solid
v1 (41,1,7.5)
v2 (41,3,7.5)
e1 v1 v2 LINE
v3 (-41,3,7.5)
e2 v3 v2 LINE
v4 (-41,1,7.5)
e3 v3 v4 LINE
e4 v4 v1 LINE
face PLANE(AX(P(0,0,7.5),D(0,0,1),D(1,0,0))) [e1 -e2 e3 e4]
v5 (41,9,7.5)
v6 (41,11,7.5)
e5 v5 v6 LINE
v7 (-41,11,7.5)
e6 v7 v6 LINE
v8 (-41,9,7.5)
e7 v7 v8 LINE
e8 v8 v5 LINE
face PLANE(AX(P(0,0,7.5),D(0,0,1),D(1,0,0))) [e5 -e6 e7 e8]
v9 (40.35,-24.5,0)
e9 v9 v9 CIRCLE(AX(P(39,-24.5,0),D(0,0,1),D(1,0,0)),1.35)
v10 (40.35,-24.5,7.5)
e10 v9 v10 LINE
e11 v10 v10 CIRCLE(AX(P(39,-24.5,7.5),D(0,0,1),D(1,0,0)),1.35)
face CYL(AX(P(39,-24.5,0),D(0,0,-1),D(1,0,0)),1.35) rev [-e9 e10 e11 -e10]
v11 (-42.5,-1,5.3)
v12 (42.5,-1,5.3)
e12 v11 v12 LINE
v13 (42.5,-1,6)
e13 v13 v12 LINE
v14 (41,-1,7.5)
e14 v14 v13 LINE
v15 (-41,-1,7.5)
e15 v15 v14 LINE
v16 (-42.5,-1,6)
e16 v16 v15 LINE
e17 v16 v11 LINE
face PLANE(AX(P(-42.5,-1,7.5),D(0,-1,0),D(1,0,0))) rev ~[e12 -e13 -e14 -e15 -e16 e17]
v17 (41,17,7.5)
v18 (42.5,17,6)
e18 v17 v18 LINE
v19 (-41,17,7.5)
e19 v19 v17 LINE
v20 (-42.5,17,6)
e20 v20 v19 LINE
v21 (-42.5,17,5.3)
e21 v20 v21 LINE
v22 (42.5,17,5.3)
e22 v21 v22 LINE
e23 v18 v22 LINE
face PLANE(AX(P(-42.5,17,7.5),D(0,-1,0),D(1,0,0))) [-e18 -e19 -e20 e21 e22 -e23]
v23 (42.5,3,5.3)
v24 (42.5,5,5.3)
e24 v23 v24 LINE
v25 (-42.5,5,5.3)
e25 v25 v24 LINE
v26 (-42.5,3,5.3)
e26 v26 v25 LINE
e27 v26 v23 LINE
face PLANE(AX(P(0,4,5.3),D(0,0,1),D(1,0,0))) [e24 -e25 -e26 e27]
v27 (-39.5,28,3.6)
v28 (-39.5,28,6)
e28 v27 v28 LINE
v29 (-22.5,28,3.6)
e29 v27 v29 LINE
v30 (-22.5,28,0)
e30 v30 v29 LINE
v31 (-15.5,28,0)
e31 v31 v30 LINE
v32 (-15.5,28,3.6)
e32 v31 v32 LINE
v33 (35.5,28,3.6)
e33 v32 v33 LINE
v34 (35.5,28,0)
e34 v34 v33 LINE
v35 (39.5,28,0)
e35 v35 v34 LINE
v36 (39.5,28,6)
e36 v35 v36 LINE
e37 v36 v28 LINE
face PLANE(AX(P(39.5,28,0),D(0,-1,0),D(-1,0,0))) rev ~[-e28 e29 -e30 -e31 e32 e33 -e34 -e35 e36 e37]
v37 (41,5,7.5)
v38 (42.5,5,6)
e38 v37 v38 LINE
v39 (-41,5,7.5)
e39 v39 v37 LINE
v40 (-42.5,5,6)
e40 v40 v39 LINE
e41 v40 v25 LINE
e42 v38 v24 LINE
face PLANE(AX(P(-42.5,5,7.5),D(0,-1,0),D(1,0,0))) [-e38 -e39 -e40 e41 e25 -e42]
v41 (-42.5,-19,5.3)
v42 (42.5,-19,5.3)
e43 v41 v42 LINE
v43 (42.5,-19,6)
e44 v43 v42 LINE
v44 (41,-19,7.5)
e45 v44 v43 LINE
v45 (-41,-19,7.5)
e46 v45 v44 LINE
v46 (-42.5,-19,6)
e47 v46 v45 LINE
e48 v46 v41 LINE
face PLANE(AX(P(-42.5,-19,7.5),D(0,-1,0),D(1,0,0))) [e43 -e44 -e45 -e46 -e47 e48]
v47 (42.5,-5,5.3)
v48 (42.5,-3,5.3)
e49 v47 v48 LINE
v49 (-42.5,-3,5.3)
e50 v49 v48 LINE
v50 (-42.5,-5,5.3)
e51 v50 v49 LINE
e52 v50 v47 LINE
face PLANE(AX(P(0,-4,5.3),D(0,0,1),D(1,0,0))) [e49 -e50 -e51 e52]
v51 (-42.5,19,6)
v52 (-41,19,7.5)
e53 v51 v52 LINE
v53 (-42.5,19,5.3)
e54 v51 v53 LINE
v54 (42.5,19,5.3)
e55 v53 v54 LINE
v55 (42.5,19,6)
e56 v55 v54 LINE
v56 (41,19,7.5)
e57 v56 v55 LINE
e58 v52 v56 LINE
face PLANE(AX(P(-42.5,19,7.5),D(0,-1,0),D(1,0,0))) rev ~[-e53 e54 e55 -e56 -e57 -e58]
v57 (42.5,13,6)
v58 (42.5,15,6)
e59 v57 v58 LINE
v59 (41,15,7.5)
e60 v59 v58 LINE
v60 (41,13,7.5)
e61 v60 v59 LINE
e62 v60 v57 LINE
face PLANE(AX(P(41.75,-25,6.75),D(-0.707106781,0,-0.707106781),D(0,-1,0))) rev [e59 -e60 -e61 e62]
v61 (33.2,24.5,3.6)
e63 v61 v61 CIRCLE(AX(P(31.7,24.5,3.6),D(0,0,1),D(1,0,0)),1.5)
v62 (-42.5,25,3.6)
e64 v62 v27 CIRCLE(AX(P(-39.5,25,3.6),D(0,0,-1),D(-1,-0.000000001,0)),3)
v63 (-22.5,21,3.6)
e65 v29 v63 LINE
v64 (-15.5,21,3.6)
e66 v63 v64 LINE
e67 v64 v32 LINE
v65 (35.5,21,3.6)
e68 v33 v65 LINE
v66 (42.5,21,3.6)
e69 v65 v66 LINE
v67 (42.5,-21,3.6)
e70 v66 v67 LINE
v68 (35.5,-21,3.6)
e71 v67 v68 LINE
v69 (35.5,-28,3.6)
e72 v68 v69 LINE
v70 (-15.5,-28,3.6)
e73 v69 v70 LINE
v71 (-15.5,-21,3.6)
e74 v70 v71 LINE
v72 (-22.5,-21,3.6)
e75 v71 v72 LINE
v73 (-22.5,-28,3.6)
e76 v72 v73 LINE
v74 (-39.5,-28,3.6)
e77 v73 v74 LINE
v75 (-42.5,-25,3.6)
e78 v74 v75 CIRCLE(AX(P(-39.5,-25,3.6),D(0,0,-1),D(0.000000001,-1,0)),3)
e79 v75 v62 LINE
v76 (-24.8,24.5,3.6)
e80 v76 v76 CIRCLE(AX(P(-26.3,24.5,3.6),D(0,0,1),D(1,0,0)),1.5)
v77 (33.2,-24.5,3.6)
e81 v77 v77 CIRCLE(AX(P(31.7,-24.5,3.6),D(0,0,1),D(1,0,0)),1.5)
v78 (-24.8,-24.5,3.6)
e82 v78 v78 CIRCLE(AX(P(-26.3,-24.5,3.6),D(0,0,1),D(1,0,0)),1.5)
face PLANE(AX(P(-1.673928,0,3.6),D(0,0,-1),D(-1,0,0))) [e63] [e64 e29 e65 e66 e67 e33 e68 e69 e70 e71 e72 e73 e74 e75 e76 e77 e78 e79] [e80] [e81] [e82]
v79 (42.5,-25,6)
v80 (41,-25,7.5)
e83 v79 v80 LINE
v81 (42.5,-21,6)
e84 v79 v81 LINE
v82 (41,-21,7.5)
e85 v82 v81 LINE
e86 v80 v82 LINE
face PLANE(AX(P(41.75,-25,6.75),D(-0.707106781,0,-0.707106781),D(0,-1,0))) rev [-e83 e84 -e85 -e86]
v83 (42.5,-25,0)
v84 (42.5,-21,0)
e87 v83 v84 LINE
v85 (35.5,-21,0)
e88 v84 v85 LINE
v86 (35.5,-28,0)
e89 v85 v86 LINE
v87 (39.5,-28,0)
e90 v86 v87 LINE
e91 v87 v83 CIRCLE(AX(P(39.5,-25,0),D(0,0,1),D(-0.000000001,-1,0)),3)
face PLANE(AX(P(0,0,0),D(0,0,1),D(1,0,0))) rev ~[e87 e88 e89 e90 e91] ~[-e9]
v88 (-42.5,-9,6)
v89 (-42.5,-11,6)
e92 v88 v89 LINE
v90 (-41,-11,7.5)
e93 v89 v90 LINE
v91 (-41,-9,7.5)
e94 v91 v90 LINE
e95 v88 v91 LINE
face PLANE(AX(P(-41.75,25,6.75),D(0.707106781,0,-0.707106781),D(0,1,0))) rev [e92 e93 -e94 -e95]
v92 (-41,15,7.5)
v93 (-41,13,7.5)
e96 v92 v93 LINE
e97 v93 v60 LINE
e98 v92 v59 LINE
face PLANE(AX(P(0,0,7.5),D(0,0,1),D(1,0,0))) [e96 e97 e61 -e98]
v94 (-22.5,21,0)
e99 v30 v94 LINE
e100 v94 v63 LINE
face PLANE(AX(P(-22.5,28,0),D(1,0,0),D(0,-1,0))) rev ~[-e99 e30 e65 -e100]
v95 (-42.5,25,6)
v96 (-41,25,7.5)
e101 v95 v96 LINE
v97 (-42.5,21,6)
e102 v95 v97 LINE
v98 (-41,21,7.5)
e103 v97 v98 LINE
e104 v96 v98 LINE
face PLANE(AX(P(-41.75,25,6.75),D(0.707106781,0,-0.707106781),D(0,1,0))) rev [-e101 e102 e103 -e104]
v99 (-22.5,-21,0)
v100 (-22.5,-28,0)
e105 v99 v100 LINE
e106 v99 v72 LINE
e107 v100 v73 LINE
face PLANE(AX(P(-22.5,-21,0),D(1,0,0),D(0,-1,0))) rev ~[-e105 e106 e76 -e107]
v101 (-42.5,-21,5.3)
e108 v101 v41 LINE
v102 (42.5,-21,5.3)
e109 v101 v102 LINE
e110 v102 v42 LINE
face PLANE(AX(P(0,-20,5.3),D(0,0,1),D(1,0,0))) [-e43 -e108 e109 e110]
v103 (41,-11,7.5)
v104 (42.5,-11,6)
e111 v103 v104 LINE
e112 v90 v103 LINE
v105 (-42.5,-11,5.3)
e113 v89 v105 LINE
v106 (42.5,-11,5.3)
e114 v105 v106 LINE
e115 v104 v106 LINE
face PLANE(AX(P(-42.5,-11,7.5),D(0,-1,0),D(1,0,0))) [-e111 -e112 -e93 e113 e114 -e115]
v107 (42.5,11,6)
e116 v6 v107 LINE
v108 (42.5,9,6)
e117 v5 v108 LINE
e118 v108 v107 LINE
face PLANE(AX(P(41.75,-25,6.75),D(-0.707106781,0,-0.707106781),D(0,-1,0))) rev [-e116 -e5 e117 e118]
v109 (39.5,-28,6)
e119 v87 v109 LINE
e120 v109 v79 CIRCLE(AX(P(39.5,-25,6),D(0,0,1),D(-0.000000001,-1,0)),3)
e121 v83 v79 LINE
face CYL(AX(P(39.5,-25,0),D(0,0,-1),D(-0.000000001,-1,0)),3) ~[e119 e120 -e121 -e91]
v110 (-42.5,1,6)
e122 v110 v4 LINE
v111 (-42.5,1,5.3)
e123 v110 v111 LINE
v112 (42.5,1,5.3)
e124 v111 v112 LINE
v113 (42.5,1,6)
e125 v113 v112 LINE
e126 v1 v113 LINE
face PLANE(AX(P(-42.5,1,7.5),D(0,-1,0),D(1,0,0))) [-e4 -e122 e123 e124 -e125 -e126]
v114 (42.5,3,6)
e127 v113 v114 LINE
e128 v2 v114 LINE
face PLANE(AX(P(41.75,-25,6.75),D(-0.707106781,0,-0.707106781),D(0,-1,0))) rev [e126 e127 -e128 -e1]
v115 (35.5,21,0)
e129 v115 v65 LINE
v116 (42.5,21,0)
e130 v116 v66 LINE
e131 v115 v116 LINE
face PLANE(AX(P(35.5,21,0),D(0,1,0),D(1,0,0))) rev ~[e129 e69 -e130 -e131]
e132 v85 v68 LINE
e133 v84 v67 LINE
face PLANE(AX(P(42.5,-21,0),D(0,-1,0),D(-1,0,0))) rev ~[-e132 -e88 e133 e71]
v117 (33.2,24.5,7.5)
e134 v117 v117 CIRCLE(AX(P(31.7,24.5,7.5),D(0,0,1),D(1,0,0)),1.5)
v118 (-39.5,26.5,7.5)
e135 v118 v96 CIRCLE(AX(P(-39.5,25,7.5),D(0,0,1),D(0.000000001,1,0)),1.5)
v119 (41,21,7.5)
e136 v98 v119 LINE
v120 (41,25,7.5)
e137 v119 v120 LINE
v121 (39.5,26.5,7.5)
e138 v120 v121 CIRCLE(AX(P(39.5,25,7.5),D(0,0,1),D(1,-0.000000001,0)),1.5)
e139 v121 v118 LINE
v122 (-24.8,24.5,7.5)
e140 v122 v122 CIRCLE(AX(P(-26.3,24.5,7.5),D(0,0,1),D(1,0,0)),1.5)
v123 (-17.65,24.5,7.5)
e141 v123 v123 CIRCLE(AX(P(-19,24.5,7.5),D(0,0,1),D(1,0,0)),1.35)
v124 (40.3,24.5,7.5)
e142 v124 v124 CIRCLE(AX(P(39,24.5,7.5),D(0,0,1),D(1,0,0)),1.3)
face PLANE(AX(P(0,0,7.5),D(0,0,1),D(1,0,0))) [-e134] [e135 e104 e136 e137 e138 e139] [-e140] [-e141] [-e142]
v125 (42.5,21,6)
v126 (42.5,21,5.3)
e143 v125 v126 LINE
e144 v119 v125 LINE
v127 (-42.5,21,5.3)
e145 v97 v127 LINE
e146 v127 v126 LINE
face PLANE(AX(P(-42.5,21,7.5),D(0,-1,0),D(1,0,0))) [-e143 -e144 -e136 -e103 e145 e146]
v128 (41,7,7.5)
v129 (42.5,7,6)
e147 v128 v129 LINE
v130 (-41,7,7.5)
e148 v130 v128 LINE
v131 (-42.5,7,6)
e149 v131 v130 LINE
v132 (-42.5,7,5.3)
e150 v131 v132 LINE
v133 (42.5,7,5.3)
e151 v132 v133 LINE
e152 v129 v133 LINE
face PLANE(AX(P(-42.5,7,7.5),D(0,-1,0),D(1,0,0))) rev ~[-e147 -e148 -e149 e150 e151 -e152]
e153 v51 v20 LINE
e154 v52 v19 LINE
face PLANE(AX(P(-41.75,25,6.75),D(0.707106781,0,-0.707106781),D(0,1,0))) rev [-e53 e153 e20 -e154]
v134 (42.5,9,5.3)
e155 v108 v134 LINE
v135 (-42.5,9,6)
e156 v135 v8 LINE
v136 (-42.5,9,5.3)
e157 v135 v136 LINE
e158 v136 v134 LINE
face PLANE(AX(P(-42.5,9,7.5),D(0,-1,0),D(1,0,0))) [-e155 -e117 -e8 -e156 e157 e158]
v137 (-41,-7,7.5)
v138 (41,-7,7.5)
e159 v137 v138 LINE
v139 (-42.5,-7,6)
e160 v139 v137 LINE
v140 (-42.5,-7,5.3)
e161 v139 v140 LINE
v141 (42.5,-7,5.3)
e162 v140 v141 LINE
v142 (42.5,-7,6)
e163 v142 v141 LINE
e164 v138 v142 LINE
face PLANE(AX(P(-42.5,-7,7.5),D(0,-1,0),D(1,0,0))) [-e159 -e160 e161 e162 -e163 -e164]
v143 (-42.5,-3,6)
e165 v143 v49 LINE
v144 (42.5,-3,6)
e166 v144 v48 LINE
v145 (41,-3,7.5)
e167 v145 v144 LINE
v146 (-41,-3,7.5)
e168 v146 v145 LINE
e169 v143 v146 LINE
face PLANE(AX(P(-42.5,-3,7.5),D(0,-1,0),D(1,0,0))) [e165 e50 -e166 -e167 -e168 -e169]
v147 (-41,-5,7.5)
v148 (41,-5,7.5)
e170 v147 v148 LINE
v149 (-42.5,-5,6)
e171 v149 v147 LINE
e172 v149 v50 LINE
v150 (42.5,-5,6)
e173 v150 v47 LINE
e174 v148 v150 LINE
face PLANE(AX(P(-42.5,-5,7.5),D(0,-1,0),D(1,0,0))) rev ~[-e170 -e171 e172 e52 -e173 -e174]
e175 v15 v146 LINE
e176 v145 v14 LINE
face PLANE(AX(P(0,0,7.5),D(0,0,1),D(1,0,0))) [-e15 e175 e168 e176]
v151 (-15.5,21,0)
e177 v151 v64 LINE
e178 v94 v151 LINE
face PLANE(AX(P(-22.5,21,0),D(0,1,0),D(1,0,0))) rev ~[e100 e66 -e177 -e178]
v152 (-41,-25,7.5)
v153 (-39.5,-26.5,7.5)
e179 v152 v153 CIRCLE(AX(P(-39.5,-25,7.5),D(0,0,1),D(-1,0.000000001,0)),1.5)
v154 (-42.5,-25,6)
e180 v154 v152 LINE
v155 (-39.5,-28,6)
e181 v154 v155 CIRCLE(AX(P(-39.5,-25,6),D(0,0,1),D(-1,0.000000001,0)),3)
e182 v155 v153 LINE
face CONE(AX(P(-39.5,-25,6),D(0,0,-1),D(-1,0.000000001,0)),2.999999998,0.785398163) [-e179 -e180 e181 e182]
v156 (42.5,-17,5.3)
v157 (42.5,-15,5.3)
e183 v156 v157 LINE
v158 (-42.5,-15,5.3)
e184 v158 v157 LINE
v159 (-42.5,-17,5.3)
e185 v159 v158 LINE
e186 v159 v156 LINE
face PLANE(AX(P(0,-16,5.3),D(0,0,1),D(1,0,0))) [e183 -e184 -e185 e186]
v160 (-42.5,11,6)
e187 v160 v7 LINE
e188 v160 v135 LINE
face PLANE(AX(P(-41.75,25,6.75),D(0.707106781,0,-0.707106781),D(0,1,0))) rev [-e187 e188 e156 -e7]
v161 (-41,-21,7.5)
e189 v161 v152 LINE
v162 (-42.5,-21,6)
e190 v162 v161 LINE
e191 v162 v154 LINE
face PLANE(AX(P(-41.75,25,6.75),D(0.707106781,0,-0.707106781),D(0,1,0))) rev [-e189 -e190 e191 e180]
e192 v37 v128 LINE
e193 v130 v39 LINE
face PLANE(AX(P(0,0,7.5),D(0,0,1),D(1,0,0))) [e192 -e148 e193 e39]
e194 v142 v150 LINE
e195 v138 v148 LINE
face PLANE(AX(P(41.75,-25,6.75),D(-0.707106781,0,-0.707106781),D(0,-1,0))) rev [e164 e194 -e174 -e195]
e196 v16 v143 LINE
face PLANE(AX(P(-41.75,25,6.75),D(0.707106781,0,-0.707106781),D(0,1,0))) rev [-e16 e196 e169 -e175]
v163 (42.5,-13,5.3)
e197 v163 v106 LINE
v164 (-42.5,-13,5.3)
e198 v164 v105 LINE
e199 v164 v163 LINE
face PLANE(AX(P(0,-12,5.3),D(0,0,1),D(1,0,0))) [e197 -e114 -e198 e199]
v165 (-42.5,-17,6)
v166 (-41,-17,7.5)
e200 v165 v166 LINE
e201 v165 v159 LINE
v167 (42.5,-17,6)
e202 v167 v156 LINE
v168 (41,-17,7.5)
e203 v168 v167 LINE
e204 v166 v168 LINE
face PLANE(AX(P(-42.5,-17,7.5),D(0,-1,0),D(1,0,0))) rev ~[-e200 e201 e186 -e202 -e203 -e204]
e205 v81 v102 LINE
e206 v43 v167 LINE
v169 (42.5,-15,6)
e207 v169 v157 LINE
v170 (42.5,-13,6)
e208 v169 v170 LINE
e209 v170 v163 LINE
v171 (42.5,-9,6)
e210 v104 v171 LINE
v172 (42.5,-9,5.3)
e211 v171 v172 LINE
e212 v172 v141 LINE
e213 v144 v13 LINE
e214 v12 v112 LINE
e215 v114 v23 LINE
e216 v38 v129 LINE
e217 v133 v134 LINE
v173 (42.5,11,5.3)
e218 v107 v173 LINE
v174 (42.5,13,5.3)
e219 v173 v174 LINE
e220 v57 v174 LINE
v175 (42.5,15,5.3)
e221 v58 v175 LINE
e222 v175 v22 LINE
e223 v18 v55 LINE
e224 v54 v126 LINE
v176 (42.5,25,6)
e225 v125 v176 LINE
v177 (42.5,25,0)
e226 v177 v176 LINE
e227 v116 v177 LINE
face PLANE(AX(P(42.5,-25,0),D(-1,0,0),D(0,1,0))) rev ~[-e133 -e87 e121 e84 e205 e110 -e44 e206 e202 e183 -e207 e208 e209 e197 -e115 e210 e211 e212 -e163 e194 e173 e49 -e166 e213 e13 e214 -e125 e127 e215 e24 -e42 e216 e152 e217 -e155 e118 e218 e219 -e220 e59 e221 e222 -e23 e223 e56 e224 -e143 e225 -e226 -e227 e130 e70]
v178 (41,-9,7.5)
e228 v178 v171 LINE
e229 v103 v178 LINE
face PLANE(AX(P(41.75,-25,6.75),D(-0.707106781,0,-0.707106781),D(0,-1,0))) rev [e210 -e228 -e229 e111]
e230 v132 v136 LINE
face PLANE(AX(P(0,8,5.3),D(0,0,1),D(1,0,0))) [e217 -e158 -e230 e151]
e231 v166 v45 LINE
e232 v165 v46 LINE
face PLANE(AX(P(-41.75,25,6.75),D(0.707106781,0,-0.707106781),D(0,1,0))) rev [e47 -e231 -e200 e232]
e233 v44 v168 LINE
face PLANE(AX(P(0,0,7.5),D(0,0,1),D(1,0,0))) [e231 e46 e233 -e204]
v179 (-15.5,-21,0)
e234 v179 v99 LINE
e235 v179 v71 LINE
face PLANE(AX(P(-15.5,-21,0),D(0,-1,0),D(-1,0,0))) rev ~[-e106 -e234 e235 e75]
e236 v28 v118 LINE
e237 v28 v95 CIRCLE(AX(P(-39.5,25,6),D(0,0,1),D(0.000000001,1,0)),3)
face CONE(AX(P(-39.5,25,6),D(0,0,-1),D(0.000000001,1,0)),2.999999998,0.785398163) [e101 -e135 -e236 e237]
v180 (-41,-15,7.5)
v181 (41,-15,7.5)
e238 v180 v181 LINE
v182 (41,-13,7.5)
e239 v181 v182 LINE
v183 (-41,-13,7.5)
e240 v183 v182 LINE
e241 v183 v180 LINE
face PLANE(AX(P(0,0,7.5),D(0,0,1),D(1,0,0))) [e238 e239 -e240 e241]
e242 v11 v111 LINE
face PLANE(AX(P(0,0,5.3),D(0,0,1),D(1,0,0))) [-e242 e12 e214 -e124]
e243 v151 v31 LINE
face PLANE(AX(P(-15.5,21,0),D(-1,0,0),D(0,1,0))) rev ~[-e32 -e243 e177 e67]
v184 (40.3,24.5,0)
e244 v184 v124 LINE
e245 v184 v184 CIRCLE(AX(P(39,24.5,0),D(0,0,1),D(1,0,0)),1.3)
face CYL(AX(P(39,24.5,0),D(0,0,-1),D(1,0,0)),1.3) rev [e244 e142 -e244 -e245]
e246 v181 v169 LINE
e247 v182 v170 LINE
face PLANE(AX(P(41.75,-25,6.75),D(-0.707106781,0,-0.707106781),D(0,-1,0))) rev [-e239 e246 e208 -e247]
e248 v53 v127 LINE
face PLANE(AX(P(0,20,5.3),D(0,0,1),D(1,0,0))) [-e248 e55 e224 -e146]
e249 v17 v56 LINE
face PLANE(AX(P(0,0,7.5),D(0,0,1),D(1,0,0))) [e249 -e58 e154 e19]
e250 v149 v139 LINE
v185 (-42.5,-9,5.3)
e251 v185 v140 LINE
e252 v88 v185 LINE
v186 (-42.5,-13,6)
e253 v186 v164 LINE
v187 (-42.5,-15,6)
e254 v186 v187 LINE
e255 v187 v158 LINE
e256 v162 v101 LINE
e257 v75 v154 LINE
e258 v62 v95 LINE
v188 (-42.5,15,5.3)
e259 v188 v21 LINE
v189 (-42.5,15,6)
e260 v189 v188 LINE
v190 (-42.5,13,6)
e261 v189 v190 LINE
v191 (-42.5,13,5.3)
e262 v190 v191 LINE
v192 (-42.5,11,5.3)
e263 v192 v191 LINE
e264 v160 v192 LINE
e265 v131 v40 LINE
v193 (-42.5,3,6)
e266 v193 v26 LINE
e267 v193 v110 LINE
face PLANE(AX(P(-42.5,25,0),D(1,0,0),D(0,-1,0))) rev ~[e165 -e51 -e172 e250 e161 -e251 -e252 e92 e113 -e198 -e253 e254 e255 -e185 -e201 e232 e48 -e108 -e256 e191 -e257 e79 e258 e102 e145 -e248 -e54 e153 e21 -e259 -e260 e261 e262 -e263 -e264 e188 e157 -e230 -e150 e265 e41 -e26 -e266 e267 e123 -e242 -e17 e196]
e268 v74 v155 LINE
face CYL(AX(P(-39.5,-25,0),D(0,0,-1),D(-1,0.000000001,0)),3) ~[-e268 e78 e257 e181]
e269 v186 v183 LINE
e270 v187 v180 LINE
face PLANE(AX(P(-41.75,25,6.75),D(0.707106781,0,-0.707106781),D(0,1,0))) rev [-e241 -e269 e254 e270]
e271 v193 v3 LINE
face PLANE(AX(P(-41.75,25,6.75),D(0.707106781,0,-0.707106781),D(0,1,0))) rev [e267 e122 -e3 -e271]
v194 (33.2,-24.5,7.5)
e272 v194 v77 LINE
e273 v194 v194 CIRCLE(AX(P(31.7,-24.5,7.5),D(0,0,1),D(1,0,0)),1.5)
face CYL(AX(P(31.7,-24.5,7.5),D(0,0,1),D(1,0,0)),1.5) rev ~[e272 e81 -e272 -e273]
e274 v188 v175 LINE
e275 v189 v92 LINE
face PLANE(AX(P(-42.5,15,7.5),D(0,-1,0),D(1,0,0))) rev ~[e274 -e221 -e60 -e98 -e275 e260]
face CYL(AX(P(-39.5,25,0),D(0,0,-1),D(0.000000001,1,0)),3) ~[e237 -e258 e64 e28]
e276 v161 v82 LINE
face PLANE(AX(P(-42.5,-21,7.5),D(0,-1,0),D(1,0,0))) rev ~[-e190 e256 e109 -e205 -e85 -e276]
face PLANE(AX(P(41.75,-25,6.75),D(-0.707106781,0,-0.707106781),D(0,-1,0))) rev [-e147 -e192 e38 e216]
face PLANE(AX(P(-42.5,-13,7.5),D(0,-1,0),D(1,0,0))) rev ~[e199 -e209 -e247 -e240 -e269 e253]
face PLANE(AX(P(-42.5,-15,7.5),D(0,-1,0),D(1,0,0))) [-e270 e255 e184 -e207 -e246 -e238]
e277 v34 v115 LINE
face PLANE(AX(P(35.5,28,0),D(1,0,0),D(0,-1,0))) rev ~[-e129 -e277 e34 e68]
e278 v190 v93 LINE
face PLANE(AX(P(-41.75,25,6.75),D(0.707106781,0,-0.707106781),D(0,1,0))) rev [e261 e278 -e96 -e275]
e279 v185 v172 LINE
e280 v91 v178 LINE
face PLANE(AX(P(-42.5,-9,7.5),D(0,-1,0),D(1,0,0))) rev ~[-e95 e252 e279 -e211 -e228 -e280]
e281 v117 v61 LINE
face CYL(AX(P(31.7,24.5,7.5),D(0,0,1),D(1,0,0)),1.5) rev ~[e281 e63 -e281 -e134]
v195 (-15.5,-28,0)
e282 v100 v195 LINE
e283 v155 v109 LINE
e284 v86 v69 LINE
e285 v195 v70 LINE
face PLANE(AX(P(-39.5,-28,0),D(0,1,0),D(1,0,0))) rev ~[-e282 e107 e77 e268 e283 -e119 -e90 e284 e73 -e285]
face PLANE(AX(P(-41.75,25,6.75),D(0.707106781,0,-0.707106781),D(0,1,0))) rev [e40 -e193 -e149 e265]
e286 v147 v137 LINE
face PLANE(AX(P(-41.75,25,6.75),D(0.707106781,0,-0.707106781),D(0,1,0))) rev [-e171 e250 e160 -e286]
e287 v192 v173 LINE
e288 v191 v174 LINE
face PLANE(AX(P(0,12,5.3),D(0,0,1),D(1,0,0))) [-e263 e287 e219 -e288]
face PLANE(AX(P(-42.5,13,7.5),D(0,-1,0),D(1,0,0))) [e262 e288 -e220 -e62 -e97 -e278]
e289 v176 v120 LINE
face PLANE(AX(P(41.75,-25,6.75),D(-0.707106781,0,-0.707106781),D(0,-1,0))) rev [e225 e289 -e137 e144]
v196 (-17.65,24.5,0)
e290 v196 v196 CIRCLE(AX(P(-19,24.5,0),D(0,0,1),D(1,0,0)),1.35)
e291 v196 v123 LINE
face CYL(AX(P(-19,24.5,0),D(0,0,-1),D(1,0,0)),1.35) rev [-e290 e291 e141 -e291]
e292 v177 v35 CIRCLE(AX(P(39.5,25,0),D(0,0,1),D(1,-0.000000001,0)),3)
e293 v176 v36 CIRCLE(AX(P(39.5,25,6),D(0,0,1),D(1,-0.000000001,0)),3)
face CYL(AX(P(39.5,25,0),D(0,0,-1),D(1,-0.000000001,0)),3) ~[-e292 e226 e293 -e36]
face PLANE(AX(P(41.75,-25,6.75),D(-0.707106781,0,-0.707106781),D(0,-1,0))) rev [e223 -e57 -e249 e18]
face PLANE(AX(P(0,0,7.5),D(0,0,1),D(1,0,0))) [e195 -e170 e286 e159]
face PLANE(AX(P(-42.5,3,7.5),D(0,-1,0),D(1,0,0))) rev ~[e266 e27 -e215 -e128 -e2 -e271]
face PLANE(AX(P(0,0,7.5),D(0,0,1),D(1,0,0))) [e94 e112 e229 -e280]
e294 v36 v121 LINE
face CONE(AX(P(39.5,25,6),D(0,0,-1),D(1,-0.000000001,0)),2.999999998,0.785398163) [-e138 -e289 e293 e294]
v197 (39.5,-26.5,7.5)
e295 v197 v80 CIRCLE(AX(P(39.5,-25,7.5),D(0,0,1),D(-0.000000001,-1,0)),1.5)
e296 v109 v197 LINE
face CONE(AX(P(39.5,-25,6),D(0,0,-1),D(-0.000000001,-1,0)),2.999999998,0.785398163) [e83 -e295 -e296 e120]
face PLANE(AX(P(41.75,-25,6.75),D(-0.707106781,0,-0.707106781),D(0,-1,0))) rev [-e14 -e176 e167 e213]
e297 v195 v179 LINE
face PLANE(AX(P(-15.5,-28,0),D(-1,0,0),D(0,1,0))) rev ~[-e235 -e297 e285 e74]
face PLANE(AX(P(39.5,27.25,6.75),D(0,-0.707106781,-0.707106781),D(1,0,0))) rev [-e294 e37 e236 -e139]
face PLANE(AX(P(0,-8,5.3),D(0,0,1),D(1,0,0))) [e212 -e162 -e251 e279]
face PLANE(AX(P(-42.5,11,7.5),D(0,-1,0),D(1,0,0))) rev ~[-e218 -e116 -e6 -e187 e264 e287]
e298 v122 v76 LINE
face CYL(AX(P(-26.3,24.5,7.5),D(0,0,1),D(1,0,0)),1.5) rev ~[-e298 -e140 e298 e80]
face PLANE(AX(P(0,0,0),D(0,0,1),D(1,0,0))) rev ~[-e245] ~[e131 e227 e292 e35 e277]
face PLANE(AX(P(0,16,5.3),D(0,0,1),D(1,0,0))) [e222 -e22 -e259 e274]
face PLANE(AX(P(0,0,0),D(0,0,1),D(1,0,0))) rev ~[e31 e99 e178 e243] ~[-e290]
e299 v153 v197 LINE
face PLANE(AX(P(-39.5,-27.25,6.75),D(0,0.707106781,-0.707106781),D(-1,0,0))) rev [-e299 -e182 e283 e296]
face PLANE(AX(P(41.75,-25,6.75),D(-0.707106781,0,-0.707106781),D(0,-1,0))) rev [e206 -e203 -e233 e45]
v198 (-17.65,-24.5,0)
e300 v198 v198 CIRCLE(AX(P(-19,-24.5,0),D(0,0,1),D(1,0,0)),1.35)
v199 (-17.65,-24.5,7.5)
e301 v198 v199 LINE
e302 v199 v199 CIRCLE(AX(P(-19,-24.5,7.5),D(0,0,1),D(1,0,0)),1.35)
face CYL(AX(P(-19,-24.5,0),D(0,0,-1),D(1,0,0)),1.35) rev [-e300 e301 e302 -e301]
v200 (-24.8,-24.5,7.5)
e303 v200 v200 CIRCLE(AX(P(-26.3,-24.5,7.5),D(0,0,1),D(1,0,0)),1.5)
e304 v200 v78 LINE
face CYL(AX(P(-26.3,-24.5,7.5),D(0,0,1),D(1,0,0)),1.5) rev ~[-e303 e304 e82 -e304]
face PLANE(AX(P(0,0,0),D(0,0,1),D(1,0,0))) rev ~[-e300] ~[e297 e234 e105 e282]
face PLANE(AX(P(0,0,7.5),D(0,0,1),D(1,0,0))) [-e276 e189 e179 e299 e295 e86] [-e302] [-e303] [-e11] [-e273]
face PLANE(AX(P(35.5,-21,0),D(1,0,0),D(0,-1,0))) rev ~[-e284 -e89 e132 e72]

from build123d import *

# Parameters (mm, degrees)
SKETCH1_R           = 1.35
SKETCH1_R_2         = 1.3
BOSS_EXTRUDE1_DEPTH = 7.5
CUT_EXTRUDE1_DEPTH  = 3.6
CHAMFER1_SIZE       = 1.5
SKETCH3_W           = 85
SKETCH3_H           = 2
CUT_EXTRUDE2_DEPTH  = 2.2
CUT_EXTRUDE3_REACH  = 9.5
SKETCH4_R           = 1.5


with BuildPart() as part:
    # Sketch1 → Boss-Extrude1 (new body)
    with BuildSketch(Plane.XY):
        with BuildLine():
            Line((42.5, -25), (42.5, 25))
            ThreePointArc((42.5, 25), (41.621320344, 27.121320344), (39.5, 28))
            Line((39.5, 28), (-39.5, 28))
            ThreePointArc((-39.5, 28), (-41.621320344, 27.121320344), (-42.5, 25))
            Line((-42.5, 25), (-42.5, -25))
            ThreePointArc((-42.5, -25), (-41.621320344, -27.121320344), (-39.5, -28))
            Line((-39.5, -28), (39.5, -28))
            ThreePointArc((39.5, -28), (41.621320344, -27.121320344), (42.5, -25))
        make_face()
        with Locations((-19, -24.5)):
            Circle(SKETCH1_R, mode=Mode.SUBTRACT)
        with Locations((39, -24.5)):
            Circle(SKETCH1_R, mode=Mode.SUBTRACT)
        with Locations((39, 24.5)):
            Circle(SKETCH1_R_2, mode=Mode.SUBTRACT)
        with Locations((-19, 24.5)):
            Circle(SKETCH1_R, mode=Mode.SUBTRACT)
    extrude(amount=BOSS_EXTRUDE1_DEPTH)

    # Sketch2 → Cut-Extrude1 (cut)
    with BuildSketch(Plane(origin=(0, 0, 0), x_dir=(-1, 0, 0), z_dir=(0, 0, -1))):
        with BuildLine():
            Line((15.5, 28), (-35.5, 28))
            Line((-35.5, 28), (-35.5, 21))
            Line((-35.5, 21), (-42.5, 21))
            Line((-42.5, 21), (-42.5, -21))
            Line((-42.5, -21), (-35.5, -21))
            Line((-35.5, -21), (-35.5, -28))
            Line((-35.5, -28), (15.5, -28))
            Line((15.5, -28), (15.5, -21))
            Line((15.5, -21), (22.5, -21))
            Line((22.5, -21), (22.5, -28))
            Line((22.5, -28), (39.5, -28))
            ThreePointArc((39.5, -28), (41.621320344, -27.121320344), (42.5, -25))
            Line((42.5, -25), (42.5, 25))
            ThreePointArc((42.5, 25), (41.621320344, 27.121320344), (39.5, 28))
            Line((39.5, 28), (22.5, 28))
            Line((22.5, 28), (22.5, 21))
            Line((22.5, 21), (15.5, 21))
            Line((15.5, 21), (15.5, 28))
        make_face()
    extrude(amount=-CUT_EXTRUDE1_DEPTH, mode=Mode.SUBTRACT)

    # Chamfer1
    chamfer1_edges = [part.edges().sort_by_distance(p)[0] for p in [
        (41.621320344, 27.121320344, 7.5),
        (0, 28, 7.5),
        (-41.621320344, 27.121320344, 7.5),
        (-42.5, 0, 7.5),
        (-41.621320344, -27.121320344, 7.5),
        (0, -28, 7.5),
        (41.621320344, -27.121320344, 7.5),
        (42.5, 0, 7.5),
    ]]
    chamfer(chamfer1_edges, length=CHAMFER1_SIZE)

    # Sketch3 → Cut-Extrude2 (cut)
    with BuildSketch(Plane.XY.offset(7.5)):
        with Locations((0, 20)):
            Rectangle(SKETCH3_W, SKETCH3_H)
        with Locations((0, 16)):
            Rectangle(SKETCH3_W, SKETCH3_H)
        with Locations((0, 12)):
            Rectangle(SKETCH3_W, SKETCH3_H)
        with Locations((0, 8)):
            Rectangle(SKETCH3_W, SKETCH3_H)
        with Locations((0, 4)):
            Rectangle(SKETCH3_W, SKETCH3_H)
        Rectangle(SKETCH3_W, SKETCH3_H)
        with Locations((0, -4)):
            Rectangle(SKETCH3_W, SKETCH3_H)
        with Locations((0, -8)):
            Rectangle(SKETCH3_W, SKETCH3_H)
        with Locations((0, -12)):
            Rectangle(SKETCH3_W, SKETCH3_H)
        with Locations((0, -16)):
            Rectangle(SKETCH3_W, SKETCH3_H)
        with Locations((0, -20)):
            Rectangle(SKETCH3_W, SKETCH3_H)
    extrude(amount=-CUT_EXTRUDE2_DEPTH, mode=Mode.SUBTRACT)

    # Sketch4 → Cut-Extrude3 (cut, up to next)
    with BuildSketch(Plane.XY.offset(7.5), mode=Mode.PRIVATE) as cut_extrude3_sk1:
        with Locations((-26.3, 24.5)):
            Circle(SKETCH4_R)
    cut_extrude3_tool1 = extrude(cut_extrude3_sk1.sketch, amount=-CUT_EXTRUDE3_REACH, mode=Mode.PRIVATE) & part.part
    add(cut_extrude3_tool1.solids().sort_by_distance((-26.3, 24.5, 7.5))[0], mode=Mode.SUBTRACT)
    # Sketch4 → Cut-Extrude3 (cut, up to next)
    with BuildSketch(Plane.XY.offset(7.5), mode=Mode.PRIVATE) as cut_extrude3_sk2:
        with Locations((31.7, 24.5)):
            Circle(SKETCH4_R)
    cut_extrude3_tool2 = extrude(cut_extrude3_sk2.sketch, amount=-CUT_EXTRUDE3_REACH, mode=Mode.PRIVATE) & part.part
    add(cut_extrude3_tool2.solids().sort_by_distance((31.7, 24.5, 7.5))[0], mode=Mode.SUBTRACT)
    # Sketch4 → Cut-Extrude3 (cut, up to next)
    with BuildSketch(Plane.XY.offset(7.5), mode=Mode.PRIVATE) as cut_extrude3_sk3:
        with Locations((-26.3, -24.5)):
            Circle(SKETCH4_R)
    cut_extrude3_tool3 = extrude(cut_extrude3_sk3.sketch, amount=-CUT_EXTRUDE3_REACH, mode=Mode.PRIVATE) & part.part
    add(cut_extrude3_tool3.solids().sort_by_distance((-26.3, -24.5, 7.5))[0], mode=Mode.SUBTRACT)
    # Sketch4 → Cut-Extrude3 (cut, up to next)
    with BuildSketch(Plane.XY.offset(7.5), mode=Mode.PRIVATE) as cut_extrude3_sk4:
        with Locations((31.7, -24.5)):
            Circle(SKETCH4_R)
    cut_extrude3_tool4 = extrude(cut_extrude3_sk4.sketch, amount=-CUT_EXTRUDE3_REACH, mode=Mode.PRIVATE) & part.part
    add(cut_extrude3_tool4.solids().sort_by_distance((31.7, -24.5, 7.5))[0], mode=Mode.SUBTRACT)


solid = part.part
